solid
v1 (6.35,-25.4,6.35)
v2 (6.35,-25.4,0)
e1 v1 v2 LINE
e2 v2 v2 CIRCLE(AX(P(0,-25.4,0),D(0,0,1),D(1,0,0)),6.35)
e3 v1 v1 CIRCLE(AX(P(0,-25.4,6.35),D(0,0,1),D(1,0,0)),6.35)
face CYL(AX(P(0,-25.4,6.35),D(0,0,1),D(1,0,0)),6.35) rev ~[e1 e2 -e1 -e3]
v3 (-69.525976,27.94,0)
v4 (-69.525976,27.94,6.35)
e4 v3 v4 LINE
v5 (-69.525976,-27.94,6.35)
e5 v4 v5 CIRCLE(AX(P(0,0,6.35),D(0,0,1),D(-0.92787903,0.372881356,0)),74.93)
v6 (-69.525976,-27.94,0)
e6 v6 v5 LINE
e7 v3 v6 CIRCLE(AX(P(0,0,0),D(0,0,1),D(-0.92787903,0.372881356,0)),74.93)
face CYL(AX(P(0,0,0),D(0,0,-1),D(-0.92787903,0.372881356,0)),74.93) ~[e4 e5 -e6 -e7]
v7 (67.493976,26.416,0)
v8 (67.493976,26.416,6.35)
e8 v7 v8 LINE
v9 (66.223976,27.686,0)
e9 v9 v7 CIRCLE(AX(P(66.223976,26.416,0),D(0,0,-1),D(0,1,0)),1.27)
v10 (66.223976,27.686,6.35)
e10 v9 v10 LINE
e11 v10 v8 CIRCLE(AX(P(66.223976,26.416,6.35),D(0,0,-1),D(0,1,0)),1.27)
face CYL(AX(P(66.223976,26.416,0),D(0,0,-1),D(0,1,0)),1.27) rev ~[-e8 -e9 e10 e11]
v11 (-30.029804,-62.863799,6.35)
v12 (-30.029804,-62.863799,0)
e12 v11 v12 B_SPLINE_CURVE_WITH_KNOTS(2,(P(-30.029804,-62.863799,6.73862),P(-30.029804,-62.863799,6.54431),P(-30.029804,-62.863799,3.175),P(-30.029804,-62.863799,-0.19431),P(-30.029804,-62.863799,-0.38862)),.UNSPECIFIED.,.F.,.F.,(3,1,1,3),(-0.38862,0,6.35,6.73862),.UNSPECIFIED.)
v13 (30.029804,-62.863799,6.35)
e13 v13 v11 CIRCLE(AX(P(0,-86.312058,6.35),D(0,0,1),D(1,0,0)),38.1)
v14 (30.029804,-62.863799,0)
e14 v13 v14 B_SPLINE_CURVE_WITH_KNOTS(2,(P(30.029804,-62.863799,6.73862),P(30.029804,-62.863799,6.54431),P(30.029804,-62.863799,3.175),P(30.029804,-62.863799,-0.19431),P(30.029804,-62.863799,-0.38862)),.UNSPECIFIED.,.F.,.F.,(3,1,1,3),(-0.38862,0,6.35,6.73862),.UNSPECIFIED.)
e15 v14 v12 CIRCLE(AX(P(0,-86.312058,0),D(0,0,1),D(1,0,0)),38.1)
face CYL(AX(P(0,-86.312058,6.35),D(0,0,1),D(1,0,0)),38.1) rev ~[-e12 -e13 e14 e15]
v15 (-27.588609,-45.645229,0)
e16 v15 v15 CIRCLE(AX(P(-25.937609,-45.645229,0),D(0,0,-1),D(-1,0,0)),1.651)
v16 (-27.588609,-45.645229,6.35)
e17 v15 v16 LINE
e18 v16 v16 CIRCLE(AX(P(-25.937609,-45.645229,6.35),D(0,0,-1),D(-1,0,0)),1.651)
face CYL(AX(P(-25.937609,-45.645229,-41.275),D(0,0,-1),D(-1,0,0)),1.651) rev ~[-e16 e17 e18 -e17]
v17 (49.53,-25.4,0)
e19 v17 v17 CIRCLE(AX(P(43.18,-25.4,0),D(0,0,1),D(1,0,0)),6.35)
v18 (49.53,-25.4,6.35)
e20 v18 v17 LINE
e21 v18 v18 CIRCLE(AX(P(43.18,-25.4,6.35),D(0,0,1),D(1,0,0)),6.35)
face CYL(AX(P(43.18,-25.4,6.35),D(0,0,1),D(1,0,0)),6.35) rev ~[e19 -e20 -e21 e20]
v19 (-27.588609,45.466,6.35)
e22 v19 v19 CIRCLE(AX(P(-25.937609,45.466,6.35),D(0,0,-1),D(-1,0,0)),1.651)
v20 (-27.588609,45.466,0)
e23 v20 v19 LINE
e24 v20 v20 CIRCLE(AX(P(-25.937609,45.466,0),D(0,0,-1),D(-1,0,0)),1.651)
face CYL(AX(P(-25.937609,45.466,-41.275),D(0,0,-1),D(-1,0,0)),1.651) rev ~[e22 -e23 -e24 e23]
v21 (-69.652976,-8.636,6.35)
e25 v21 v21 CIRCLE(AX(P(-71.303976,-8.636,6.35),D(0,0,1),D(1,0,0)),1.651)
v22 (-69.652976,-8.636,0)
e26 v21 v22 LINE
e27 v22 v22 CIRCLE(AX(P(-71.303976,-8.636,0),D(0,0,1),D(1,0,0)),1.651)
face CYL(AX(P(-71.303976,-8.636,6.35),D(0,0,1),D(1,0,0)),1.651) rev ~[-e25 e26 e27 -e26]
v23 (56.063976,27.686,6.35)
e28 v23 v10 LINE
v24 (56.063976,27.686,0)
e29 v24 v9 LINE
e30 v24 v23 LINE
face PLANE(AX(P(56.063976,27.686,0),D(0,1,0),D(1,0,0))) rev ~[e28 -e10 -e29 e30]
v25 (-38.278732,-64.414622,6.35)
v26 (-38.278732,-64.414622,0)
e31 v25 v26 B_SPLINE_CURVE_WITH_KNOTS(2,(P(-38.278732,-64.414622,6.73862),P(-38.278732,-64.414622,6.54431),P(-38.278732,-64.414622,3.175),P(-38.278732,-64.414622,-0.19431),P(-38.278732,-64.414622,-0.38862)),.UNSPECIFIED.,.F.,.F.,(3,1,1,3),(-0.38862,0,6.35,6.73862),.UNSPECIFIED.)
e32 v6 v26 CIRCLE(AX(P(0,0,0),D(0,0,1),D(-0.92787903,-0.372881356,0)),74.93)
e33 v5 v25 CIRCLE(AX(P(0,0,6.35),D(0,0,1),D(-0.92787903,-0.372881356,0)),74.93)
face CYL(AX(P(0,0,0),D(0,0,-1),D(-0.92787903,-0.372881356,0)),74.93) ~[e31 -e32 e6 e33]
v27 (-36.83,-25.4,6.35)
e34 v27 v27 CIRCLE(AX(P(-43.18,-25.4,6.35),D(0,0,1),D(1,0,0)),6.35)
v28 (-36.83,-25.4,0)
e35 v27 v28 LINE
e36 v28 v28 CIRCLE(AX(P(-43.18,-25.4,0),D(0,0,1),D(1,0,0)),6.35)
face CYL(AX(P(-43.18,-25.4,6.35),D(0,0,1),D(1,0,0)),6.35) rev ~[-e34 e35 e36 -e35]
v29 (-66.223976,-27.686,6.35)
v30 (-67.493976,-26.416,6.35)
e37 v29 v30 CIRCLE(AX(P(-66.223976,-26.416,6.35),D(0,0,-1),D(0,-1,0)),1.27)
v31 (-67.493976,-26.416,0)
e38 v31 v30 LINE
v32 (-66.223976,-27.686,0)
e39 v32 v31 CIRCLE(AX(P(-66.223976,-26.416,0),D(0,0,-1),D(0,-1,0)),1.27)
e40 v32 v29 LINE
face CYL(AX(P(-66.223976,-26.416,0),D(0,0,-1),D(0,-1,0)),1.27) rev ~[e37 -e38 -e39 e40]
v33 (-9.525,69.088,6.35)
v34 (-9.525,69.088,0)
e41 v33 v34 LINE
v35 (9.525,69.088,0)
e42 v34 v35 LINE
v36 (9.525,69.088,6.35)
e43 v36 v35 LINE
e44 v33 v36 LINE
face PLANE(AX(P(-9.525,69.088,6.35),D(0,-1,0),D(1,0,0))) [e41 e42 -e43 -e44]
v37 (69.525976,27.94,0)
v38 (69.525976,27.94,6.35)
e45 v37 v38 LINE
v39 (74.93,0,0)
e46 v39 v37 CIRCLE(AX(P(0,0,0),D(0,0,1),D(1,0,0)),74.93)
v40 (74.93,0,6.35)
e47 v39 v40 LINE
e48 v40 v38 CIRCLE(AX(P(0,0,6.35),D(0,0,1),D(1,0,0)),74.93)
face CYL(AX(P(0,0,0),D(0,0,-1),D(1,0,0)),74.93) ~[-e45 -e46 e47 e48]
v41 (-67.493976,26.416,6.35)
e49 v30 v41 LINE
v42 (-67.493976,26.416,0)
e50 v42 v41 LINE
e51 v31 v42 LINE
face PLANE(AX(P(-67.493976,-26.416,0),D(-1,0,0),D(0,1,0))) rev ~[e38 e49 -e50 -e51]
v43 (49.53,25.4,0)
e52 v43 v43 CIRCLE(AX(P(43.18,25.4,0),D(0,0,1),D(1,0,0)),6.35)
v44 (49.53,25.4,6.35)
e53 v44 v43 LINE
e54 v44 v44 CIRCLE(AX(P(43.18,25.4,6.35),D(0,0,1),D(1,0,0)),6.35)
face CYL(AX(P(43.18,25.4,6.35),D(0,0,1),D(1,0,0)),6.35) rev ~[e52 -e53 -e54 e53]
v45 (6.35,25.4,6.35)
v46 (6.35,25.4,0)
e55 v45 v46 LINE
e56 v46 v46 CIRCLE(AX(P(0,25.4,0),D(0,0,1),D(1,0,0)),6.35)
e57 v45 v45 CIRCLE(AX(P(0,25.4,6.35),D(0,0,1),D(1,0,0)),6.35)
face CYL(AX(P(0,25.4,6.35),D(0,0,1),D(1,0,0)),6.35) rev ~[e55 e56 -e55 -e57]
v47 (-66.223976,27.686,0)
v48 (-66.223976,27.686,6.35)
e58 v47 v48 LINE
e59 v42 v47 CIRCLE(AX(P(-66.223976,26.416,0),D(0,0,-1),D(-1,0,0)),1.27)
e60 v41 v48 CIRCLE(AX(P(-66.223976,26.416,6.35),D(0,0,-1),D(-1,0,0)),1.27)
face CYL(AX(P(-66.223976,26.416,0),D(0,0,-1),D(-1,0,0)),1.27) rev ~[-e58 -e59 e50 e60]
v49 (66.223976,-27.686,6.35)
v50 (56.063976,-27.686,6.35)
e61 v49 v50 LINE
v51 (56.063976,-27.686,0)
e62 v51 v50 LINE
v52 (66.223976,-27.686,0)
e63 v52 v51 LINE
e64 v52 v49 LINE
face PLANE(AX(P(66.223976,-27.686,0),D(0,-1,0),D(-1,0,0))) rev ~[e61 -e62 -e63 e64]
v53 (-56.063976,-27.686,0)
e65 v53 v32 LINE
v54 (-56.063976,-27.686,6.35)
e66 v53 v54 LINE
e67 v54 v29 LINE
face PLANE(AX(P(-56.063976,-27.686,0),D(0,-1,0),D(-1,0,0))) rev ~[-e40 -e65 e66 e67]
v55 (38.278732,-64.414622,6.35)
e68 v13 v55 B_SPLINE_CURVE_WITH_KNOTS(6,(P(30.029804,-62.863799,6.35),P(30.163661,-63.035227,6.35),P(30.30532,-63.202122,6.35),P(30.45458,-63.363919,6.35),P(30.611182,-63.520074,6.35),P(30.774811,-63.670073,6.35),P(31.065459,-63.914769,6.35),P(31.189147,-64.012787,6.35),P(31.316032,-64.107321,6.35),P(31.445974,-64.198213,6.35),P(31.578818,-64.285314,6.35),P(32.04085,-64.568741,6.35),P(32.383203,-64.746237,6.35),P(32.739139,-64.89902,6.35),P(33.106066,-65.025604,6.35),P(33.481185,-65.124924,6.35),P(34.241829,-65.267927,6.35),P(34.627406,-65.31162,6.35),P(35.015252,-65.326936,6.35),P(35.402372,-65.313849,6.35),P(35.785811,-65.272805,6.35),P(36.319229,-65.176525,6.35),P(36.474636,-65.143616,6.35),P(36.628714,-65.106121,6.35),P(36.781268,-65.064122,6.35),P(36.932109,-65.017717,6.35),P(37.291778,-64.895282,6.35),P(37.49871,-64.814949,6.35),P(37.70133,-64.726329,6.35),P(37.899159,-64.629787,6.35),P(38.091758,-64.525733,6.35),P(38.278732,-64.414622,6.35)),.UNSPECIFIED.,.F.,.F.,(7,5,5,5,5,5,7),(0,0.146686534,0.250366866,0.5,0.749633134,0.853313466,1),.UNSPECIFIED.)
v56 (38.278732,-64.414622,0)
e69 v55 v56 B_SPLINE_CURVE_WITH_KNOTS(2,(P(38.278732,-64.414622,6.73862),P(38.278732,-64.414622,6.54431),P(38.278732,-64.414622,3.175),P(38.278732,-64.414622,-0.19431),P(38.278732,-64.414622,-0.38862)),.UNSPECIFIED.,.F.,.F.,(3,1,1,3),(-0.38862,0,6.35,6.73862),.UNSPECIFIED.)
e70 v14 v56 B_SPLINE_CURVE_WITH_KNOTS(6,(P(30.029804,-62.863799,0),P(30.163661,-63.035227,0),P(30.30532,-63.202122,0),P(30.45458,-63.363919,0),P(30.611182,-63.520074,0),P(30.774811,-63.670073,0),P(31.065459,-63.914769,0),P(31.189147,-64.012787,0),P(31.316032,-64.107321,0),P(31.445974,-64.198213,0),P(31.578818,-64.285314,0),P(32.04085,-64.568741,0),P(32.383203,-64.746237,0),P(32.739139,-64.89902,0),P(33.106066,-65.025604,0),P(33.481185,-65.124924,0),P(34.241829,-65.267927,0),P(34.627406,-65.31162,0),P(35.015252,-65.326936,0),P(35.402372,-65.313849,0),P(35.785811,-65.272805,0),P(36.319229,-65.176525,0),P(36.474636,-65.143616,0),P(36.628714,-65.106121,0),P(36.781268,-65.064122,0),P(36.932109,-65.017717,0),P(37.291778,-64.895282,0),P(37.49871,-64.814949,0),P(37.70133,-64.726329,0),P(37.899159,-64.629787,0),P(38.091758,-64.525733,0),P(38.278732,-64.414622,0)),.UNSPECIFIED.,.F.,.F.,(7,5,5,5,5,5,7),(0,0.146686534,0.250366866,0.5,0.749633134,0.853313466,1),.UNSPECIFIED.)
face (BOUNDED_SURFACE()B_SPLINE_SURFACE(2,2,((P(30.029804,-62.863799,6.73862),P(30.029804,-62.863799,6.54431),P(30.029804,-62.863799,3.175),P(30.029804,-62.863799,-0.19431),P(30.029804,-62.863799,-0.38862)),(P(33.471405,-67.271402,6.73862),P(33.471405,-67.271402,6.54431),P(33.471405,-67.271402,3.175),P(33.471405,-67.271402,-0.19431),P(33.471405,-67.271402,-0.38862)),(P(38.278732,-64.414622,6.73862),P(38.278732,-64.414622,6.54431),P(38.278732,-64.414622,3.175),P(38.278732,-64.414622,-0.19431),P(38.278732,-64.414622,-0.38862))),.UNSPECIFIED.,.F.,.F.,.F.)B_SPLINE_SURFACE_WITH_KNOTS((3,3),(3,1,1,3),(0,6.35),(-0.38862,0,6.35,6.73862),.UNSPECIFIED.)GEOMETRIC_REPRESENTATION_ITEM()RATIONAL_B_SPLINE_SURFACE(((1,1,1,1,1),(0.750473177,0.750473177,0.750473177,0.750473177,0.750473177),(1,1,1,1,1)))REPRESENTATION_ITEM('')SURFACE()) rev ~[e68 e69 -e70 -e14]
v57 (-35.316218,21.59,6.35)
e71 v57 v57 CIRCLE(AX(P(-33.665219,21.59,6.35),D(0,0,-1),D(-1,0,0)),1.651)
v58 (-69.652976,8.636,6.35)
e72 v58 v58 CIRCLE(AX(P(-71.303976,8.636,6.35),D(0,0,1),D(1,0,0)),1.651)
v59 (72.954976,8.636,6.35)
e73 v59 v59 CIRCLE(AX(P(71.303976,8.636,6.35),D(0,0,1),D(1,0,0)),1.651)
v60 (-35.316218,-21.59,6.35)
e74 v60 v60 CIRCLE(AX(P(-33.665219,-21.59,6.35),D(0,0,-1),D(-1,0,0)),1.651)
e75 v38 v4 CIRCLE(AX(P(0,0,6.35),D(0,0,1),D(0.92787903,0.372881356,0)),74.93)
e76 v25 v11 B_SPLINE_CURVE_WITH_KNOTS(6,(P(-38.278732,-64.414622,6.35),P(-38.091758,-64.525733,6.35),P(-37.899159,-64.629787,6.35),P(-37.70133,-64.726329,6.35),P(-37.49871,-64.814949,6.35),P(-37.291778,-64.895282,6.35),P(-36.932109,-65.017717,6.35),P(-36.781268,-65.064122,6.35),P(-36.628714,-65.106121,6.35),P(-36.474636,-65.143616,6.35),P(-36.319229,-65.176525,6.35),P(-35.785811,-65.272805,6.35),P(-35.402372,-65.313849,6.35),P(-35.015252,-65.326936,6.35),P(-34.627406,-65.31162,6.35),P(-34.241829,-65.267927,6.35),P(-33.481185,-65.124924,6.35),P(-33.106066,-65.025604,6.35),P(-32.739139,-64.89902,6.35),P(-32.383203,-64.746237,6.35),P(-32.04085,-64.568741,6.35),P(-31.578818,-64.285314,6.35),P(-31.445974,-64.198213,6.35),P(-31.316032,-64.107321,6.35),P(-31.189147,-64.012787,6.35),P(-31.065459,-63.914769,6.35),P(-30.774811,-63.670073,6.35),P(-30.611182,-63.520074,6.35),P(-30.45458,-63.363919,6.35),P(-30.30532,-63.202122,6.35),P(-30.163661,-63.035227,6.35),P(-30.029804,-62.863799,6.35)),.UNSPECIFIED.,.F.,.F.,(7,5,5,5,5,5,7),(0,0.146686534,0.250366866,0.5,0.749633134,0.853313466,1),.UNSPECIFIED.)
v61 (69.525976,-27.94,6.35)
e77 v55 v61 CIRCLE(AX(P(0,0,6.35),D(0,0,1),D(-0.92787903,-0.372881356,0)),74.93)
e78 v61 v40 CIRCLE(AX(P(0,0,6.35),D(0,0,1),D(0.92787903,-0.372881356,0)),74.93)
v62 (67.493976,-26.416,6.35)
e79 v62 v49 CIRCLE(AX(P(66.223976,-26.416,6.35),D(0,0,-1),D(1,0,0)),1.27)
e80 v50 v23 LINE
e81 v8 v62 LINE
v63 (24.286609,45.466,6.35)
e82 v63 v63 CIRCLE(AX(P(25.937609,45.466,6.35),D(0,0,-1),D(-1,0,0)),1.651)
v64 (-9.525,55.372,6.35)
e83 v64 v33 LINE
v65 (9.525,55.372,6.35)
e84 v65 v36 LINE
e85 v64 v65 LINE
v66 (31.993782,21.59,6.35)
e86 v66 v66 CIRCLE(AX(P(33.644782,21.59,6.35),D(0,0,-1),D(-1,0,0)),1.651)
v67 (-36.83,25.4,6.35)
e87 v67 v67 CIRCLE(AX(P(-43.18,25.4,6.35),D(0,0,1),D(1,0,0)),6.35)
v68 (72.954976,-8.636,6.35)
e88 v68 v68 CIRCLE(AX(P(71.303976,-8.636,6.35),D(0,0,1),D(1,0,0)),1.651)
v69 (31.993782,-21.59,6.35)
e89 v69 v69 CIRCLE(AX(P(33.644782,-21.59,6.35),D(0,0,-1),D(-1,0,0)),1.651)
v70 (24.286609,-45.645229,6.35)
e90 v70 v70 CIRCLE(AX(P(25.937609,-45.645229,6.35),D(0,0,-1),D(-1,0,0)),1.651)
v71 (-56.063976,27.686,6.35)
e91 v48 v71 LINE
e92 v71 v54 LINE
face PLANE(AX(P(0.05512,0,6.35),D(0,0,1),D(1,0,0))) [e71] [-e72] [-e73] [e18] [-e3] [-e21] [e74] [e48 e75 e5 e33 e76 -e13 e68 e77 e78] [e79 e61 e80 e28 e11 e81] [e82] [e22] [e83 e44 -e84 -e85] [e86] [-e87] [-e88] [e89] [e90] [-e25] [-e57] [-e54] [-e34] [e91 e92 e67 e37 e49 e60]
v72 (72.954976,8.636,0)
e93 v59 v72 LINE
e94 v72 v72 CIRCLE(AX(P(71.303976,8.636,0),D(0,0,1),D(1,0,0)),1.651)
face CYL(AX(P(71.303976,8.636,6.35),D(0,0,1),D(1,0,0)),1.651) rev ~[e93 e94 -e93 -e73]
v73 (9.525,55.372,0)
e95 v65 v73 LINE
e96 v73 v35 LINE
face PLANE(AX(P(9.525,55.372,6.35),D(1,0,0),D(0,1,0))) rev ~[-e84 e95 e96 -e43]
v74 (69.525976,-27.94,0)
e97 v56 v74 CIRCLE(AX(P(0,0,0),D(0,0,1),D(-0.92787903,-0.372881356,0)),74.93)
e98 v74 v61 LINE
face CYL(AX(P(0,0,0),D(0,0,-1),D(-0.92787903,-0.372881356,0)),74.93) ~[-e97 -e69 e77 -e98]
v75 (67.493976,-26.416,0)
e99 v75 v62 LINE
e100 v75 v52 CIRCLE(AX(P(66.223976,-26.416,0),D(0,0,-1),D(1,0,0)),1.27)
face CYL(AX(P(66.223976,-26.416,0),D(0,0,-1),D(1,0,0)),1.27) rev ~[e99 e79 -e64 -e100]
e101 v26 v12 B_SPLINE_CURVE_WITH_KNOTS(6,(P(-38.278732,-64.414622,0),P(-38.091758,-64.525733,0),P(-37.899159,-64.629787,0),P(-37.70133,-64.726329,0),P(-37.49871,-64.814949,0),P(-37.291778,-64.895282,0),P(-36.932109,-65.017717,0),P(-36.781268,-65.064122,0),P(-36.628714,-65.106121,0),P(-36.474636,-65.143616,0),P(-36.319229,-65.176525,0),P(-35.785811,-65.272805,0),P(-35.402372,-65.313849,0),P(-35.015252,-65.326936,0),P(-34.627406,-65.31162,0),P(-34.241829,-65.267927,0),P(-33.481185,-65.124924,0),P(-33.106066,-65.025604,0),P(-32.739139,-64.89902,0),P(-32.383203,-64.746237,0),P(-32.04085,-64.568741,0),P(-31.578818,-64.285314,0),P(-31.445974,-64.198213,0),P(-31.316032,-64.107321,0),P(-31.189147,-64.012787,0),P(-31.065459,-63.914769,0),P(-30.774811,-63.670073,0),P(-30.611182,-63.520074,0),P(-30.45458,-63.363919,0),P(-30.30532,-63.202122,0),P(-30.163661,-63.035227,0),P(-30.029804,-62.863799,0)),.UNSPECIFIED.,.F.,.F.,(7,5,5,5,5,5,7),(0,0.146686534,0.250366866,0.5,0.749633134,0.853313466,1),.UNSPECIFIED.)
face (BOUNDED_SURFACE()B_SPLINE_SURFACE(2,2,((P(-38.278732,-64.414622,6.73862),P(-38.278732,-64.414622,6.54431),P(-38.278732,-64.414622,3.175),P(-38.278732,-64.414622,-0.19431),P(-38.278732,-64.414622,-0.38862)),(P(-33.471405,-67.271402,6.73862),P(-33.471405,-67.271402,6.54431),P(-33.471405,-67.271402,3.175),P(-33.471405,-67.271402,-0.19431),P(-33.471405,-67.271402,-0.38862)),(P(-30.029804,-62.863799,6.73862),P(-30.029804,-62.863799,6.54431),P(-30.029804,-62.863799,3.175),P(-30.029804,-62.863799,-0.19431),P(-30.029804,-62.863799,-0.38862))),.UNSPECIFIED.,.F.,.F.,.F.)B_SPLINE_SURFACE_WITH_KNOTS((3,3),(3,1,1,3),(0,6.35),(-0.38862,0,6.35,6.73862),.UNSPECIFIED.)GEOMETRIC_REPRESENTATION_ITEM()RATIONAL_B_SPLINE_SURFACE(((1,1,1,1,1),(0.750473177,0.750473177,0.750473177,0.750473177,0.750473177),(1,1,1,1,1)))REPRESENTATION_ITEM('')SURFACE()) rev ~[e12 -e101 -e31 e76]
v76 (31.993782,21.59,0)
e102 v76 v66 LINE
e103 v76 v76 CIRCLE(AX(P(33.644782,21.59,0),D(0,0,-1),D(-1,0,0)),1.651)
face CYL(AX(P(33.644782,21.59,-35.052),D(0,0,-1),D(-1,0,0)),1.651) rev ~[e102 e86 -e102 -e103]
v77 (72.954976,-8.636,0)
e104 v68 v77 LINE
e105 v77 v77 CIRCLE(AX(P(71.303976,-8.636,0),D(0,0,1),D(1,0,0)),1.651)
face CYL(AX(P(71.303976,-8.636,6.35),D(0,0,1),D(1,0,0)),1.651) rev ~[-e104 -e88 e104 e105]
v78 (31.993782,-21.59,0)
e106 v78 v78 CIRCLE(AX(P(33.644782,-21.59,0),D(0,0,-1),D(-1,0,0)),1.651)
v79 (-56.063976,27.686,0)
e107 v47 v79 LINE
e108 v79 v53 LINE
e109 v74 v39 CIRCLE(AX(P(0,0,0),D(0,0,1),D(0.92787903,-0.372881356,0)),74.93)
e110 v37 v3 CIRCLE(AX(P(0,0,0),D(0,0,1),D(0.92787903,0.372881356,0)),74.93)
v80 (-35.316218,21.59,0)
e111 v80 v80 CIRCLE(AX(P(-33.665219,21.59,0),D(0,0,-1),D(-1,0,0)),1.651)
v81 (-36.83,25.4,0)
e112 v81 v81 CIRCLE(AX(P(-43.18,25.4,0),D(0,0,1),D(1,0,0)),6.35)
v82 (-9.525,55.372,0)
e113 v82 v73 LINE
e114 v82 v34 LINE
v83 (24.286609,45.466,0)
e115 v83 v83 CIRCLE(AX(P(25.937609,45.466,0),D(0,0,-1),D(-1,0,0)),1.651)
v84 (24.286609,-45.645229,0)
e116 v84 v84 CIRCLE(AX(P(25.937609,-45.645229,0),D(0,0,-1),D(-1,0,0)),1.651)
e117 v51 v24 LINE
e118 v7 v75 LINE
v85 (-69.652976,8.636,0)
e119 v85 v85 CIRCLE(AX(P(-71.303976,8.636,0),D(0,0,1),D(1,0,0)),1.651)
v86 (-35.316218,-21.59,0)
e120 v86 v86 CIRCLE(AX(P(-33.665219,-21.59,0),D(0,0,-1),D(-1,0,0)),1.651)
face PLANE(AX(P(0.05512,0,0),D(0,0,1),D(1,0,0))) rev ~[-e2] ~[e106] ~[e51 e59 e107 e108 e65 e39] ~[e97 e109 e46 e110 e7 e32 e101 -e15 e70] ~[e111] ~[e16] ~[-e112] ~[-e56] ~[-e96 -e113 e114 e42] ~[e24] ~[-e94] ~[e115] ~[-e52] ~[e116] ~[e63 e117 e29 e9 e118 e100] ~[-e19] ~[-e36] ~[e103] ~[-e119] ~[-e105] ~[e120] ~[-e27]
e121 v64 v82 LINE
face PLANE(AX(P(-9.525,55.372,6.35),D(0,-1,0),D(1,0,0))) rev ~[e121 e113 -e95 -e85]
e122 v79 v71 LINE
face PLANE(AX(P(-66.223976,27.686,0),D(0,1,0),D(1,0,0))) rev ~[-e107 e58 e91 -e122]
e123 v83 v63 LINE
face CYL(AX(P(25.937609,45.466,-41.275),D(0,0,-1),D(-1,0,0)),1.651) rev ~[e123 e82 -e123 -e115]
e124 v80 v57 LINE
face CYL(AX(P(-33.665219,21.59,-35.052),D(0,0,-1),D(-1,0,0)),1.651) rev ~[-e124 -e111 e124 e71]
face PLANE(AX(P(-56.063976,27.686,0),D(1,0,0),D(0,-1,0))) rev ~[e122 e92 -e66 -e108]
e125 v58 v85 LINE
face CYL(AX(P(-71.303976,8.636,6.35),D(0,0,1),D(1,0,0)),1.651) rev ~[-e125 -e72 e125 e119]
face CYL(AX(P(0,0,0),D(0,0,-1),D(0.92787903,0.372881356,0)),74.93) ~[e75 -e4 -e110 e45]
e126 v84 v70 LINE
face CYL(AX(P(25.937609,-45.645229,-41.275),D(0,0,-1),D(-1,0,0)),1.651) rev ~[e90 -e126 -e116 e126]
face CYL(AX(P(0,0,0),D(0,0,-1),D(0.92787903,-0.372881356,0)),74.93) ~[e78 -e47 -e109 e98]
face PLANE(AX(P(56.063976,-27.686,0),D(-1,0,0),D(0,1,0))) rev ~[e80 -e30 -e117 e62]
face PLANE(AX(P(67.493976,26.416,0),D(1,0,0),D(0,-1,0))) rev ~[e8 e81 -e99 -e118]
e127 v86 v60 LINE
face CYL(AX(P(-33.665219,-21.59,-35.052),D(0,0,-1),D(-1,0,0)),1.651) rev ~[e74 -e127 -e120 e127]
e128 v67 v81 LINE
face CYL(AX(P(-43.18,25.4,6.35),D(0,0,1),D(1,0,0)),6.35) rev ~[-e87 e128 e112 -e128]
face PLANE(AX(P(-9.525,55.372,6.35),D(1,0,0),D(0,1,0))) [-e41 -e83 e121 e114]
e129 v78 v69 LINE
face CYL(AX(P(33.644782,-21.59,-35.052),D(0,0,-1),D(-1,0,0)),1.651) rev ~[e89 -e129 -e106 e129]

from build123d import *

# Parameters (mm, degrees)
BOSS_EXTRUDE2_DEPTH     = 6.35
SKETCH2_W               = 19.05
SKETCH2_H               = 13.716
CUT_EXTRUDE1_DEPTH      = 7.35
SKETCH3_R               = 38.1
CUT_EXTRUDE2_DEPTH      = 7.35
FILLET1_R               = 6.35
SKETCH7_R               = 3.175
CUT_EXTRUDE6_DEPTH      = 103.378
CUT_EXTRUDE6_DEPTH_BACK = 1.0000001
SKETCH8_R               = 1.651
CUT_EXTRUDE7_DEPTH      = 75.692
SKETCH10_R              = 1.651
CUT_EXTRUDE9_DEPTH      = 97.79
SKETCH11_R              = 1.651
CUT_EXTRUDE10_DEPTH     = 150.876
SKETCH12_R              = 6.35
CUT_EXTRUDE11_DEPTH     = 31.242


with BuildPart() as part:
    # Sketch1 → Boss-Extrude2 (new body)
    with BuildSketch(Plane.XY):
        with BuildLine():
            ThreePointArc((-69.525975721, 27.94), (-74.93, 0), (-69.525975721, -27.94))
            ThreePointArc((-69.525975721, -27.94), (0, -74.93), (69.525975721, -27.94))
            ThreePointArc((69.525975721, -27.94), (73.56658977, -14.228906128), (74.93, 0))
            ThreePointArc((74.93, 0), (73.56658977, 14.228906128), (69.525975721, 27.94))
            ThreePointArc((69.525975721, 27.94), (0, 74.93), (-69.525975721, 27.94))
        make_face()
        with BuildLine():
            ThreePointArc((-67.493975721, 26.416), (-67.122001333, 27.314025612), (-66.223975721, 27.686))
            Line((-66.223975721, 27.686), (-56.063975721, 27.686))
            Line((-56.063975721, 27.686), (-56.063975721, -27.686))
            Line((-56.063975721, -27.686), (-66.223975721, -27.686))
            ThreePointArc((-66.223975721, -27.686), (-67.122001333, -27.314025612), (-67.493975721, -26.416))
            Line((-67.493975721, -26.416), (-67.493975721, 26.416))
        make_face(mode=Mode.SUBTRACT)
        with BuildLine():
            ThreePointArc((66.223975721, 27.686), (67.122001333, 27.314025612), (67.493975721, 26.416))
            Line((67.493975721, 26.416), (67.493975721, -26.416))
            ThreePointArc((67.493975721, -26.416), (67.122001333, -27.314025612), (66.223975721, -27.686))
            Line((66.223975721, -27.686), (56.063975721, -27.686))
            Line((56.063975721, -27.686), (56.063975721, 27.686))
            Line((56.063975721, 27.686), (66.223975721, 27.686))
        make_face(mode=Mode.SUBTRACT)
    extrude(amount=BOSS_EXTRUDE2_DEPTH)

    # Sketch2 → Cut-Extrude1 (cut, through all)
    with BuildSketch(Plane.XY.offset(6.35)):
        with Locations((0, 62.23)):
            Rectangle(SKETCH2_W, SKETCH2_H)
    extrude(amount=-CUT_EXTRUDE1_DEPTH, mode=Mode.SUBTRACT)

    # Sketch3 → Cut-Extrude2 (cut, through all)
    with BuildSketch(Plane.XY.offset(6.35)):
        with Locations((0, -86.312058398)):
            Circle(SKETCH3_R)
    extrude(amount=-CUT_EXTRUDE2_DEPTH, mode=Mode.SUBTRACT)

    # Fillet1
    fillet1_edges = [part.edges().sort_by_distance(p)[0] for p in [
        (-33.000960548, -67.271401821, 3.175),
        (33.000960548, -67.271401821, 3.175),
    ]]
    fillet(fillet1_edges, radius=FILLET1_R)

    # Sketch7 → Cut-Extrude6 (cut, two sides)
    with BuildSketch(Plane(origin=(30.092005081, 4.08352975, 6.35), x_dir=(-1, 0, 0), z_dir=(0, 0, -1))) as cut_extrude6_sk:
        with Locations((-13.087994919, 21.31647025)):
            Circle(SKETCH7_R)
        with Locations((73.272005081, 21.31647025)):
            Circle(SKETCH7_R)
        with Locations((30.092005081, 21.31647025)):
            Circle(SKETCH7_R)
        with Locations((73.272005081, -29.48352975)):
            Circle(SKETCH7_R)
        with Locations((30.092005081, -29.48352975)):
            Circle(SKETCH7_R)
        with Locations((-13.087994919, -29.48352975)):
            Circle(SKETCH7_R)
    extrude(amount=CUT_EXTRUDE6_DEPTH, mode=Mode.SUBTRACT)
    extrude(cut_extrude6_sk.sketch, amount=-CUT_EXTRUDE6_DEPTH_BACK, mode=Mode.SUBTRACT)

    # Sketch8 → Cut-Extrude7 (cut)
    with BuildSketch(Plane(origin=(30.092005081, 4.08352975, -35.052), x_dir=(-1, 0, 0), z_dir=(0, 0, -1))):
        with Locations((63.757223581, 17.50647025)):
            Circle(SKETCH8_R)
        with Locations((63.757223581, -25.67352975)):
            Circle(SKETCH8_R)
        with Locations((-3.552776419, -25.67352975)):
            Circle(SKETCH8_R)
        with Locations((-3.552776419, 17.50647025)):
            Circle(SKETCH8_R)
    extrude(amount=-CUT_EXTRUDE7_DEPTH, mode=Mode.SUBTRACT)

    # Sketch10 → Cut-Extrude9 (cut)
    with BuildSketch(Plane(origin=(30.092005081, 4.08352975, -41.275), x_dir=(-1, 0, 0), z_dir=(0, 0, -1))):
        with Locations((4.154396091, -49.728759131)):
            Circle(SKETCH10_R)
        with Locations((56.02961407, -49.728759131)):
            Circle(SKETCH10_R)
        with Locations((4.154396091, 41.38247025)):
            Circle(SKETCH10_R)
        with Locations((56.02961407, 41.38247025)):
            Circle(SKETCH10_R)
    extrude(amount=-CUT_EXTRUDE9_DEPTH, mode=Mode.SUBTRACT)

    # Sketch11 → Cut-Extrude10 (cut)
    with BuildSketch(Plane(origin=(30.092005081, 4.08352975, 6.35), x_dir=(1, 0, 0), z_dir=(0, 0, 1))):
        with Locations((-101.395980802, -12.71952975)):
            Circle(SKETCH11_R)
        with Locations((-101.395980802, 4.55247025)):
            Circle(SKETCH11_R)
        with Locations((41.211970641, -12.71952975)):
            Circle(SKETCH11_R)
        with Locations((41.211970641, 4.55247025)):
            Circle(SKETCH11_R)
    extrude(amount=-CUT_EXTRUDE10_DEPTH, mode=Mode.SUBTRACT)

    # Sketch12 → Cut-Extrude11 (cut)
    with BuildSketch(Plane.XY.offset(6.35)):
        with Locations((0, 25.4)):
            Circle(SKETCH12_R)
        with Locations((-43.18, 25.4)):
            Circle(SKETCH12_R)
        with Locations((-43.18, -25.4)):
            Circle(SKETCH12_R)
        with Locations((0, -25.4)):
            Circle(SKETCH12_R)
        with Locations((43.18, -25.4)):
            Circle(SKETCH12_R)
        with Locations((43.18, 25.4)):
            Circle(SKETCH12_R)
    extrude(amount=-CUT_EXTRUDE11_DEPTH, mode=Mode.SUBTRACT)


solid = part.part
